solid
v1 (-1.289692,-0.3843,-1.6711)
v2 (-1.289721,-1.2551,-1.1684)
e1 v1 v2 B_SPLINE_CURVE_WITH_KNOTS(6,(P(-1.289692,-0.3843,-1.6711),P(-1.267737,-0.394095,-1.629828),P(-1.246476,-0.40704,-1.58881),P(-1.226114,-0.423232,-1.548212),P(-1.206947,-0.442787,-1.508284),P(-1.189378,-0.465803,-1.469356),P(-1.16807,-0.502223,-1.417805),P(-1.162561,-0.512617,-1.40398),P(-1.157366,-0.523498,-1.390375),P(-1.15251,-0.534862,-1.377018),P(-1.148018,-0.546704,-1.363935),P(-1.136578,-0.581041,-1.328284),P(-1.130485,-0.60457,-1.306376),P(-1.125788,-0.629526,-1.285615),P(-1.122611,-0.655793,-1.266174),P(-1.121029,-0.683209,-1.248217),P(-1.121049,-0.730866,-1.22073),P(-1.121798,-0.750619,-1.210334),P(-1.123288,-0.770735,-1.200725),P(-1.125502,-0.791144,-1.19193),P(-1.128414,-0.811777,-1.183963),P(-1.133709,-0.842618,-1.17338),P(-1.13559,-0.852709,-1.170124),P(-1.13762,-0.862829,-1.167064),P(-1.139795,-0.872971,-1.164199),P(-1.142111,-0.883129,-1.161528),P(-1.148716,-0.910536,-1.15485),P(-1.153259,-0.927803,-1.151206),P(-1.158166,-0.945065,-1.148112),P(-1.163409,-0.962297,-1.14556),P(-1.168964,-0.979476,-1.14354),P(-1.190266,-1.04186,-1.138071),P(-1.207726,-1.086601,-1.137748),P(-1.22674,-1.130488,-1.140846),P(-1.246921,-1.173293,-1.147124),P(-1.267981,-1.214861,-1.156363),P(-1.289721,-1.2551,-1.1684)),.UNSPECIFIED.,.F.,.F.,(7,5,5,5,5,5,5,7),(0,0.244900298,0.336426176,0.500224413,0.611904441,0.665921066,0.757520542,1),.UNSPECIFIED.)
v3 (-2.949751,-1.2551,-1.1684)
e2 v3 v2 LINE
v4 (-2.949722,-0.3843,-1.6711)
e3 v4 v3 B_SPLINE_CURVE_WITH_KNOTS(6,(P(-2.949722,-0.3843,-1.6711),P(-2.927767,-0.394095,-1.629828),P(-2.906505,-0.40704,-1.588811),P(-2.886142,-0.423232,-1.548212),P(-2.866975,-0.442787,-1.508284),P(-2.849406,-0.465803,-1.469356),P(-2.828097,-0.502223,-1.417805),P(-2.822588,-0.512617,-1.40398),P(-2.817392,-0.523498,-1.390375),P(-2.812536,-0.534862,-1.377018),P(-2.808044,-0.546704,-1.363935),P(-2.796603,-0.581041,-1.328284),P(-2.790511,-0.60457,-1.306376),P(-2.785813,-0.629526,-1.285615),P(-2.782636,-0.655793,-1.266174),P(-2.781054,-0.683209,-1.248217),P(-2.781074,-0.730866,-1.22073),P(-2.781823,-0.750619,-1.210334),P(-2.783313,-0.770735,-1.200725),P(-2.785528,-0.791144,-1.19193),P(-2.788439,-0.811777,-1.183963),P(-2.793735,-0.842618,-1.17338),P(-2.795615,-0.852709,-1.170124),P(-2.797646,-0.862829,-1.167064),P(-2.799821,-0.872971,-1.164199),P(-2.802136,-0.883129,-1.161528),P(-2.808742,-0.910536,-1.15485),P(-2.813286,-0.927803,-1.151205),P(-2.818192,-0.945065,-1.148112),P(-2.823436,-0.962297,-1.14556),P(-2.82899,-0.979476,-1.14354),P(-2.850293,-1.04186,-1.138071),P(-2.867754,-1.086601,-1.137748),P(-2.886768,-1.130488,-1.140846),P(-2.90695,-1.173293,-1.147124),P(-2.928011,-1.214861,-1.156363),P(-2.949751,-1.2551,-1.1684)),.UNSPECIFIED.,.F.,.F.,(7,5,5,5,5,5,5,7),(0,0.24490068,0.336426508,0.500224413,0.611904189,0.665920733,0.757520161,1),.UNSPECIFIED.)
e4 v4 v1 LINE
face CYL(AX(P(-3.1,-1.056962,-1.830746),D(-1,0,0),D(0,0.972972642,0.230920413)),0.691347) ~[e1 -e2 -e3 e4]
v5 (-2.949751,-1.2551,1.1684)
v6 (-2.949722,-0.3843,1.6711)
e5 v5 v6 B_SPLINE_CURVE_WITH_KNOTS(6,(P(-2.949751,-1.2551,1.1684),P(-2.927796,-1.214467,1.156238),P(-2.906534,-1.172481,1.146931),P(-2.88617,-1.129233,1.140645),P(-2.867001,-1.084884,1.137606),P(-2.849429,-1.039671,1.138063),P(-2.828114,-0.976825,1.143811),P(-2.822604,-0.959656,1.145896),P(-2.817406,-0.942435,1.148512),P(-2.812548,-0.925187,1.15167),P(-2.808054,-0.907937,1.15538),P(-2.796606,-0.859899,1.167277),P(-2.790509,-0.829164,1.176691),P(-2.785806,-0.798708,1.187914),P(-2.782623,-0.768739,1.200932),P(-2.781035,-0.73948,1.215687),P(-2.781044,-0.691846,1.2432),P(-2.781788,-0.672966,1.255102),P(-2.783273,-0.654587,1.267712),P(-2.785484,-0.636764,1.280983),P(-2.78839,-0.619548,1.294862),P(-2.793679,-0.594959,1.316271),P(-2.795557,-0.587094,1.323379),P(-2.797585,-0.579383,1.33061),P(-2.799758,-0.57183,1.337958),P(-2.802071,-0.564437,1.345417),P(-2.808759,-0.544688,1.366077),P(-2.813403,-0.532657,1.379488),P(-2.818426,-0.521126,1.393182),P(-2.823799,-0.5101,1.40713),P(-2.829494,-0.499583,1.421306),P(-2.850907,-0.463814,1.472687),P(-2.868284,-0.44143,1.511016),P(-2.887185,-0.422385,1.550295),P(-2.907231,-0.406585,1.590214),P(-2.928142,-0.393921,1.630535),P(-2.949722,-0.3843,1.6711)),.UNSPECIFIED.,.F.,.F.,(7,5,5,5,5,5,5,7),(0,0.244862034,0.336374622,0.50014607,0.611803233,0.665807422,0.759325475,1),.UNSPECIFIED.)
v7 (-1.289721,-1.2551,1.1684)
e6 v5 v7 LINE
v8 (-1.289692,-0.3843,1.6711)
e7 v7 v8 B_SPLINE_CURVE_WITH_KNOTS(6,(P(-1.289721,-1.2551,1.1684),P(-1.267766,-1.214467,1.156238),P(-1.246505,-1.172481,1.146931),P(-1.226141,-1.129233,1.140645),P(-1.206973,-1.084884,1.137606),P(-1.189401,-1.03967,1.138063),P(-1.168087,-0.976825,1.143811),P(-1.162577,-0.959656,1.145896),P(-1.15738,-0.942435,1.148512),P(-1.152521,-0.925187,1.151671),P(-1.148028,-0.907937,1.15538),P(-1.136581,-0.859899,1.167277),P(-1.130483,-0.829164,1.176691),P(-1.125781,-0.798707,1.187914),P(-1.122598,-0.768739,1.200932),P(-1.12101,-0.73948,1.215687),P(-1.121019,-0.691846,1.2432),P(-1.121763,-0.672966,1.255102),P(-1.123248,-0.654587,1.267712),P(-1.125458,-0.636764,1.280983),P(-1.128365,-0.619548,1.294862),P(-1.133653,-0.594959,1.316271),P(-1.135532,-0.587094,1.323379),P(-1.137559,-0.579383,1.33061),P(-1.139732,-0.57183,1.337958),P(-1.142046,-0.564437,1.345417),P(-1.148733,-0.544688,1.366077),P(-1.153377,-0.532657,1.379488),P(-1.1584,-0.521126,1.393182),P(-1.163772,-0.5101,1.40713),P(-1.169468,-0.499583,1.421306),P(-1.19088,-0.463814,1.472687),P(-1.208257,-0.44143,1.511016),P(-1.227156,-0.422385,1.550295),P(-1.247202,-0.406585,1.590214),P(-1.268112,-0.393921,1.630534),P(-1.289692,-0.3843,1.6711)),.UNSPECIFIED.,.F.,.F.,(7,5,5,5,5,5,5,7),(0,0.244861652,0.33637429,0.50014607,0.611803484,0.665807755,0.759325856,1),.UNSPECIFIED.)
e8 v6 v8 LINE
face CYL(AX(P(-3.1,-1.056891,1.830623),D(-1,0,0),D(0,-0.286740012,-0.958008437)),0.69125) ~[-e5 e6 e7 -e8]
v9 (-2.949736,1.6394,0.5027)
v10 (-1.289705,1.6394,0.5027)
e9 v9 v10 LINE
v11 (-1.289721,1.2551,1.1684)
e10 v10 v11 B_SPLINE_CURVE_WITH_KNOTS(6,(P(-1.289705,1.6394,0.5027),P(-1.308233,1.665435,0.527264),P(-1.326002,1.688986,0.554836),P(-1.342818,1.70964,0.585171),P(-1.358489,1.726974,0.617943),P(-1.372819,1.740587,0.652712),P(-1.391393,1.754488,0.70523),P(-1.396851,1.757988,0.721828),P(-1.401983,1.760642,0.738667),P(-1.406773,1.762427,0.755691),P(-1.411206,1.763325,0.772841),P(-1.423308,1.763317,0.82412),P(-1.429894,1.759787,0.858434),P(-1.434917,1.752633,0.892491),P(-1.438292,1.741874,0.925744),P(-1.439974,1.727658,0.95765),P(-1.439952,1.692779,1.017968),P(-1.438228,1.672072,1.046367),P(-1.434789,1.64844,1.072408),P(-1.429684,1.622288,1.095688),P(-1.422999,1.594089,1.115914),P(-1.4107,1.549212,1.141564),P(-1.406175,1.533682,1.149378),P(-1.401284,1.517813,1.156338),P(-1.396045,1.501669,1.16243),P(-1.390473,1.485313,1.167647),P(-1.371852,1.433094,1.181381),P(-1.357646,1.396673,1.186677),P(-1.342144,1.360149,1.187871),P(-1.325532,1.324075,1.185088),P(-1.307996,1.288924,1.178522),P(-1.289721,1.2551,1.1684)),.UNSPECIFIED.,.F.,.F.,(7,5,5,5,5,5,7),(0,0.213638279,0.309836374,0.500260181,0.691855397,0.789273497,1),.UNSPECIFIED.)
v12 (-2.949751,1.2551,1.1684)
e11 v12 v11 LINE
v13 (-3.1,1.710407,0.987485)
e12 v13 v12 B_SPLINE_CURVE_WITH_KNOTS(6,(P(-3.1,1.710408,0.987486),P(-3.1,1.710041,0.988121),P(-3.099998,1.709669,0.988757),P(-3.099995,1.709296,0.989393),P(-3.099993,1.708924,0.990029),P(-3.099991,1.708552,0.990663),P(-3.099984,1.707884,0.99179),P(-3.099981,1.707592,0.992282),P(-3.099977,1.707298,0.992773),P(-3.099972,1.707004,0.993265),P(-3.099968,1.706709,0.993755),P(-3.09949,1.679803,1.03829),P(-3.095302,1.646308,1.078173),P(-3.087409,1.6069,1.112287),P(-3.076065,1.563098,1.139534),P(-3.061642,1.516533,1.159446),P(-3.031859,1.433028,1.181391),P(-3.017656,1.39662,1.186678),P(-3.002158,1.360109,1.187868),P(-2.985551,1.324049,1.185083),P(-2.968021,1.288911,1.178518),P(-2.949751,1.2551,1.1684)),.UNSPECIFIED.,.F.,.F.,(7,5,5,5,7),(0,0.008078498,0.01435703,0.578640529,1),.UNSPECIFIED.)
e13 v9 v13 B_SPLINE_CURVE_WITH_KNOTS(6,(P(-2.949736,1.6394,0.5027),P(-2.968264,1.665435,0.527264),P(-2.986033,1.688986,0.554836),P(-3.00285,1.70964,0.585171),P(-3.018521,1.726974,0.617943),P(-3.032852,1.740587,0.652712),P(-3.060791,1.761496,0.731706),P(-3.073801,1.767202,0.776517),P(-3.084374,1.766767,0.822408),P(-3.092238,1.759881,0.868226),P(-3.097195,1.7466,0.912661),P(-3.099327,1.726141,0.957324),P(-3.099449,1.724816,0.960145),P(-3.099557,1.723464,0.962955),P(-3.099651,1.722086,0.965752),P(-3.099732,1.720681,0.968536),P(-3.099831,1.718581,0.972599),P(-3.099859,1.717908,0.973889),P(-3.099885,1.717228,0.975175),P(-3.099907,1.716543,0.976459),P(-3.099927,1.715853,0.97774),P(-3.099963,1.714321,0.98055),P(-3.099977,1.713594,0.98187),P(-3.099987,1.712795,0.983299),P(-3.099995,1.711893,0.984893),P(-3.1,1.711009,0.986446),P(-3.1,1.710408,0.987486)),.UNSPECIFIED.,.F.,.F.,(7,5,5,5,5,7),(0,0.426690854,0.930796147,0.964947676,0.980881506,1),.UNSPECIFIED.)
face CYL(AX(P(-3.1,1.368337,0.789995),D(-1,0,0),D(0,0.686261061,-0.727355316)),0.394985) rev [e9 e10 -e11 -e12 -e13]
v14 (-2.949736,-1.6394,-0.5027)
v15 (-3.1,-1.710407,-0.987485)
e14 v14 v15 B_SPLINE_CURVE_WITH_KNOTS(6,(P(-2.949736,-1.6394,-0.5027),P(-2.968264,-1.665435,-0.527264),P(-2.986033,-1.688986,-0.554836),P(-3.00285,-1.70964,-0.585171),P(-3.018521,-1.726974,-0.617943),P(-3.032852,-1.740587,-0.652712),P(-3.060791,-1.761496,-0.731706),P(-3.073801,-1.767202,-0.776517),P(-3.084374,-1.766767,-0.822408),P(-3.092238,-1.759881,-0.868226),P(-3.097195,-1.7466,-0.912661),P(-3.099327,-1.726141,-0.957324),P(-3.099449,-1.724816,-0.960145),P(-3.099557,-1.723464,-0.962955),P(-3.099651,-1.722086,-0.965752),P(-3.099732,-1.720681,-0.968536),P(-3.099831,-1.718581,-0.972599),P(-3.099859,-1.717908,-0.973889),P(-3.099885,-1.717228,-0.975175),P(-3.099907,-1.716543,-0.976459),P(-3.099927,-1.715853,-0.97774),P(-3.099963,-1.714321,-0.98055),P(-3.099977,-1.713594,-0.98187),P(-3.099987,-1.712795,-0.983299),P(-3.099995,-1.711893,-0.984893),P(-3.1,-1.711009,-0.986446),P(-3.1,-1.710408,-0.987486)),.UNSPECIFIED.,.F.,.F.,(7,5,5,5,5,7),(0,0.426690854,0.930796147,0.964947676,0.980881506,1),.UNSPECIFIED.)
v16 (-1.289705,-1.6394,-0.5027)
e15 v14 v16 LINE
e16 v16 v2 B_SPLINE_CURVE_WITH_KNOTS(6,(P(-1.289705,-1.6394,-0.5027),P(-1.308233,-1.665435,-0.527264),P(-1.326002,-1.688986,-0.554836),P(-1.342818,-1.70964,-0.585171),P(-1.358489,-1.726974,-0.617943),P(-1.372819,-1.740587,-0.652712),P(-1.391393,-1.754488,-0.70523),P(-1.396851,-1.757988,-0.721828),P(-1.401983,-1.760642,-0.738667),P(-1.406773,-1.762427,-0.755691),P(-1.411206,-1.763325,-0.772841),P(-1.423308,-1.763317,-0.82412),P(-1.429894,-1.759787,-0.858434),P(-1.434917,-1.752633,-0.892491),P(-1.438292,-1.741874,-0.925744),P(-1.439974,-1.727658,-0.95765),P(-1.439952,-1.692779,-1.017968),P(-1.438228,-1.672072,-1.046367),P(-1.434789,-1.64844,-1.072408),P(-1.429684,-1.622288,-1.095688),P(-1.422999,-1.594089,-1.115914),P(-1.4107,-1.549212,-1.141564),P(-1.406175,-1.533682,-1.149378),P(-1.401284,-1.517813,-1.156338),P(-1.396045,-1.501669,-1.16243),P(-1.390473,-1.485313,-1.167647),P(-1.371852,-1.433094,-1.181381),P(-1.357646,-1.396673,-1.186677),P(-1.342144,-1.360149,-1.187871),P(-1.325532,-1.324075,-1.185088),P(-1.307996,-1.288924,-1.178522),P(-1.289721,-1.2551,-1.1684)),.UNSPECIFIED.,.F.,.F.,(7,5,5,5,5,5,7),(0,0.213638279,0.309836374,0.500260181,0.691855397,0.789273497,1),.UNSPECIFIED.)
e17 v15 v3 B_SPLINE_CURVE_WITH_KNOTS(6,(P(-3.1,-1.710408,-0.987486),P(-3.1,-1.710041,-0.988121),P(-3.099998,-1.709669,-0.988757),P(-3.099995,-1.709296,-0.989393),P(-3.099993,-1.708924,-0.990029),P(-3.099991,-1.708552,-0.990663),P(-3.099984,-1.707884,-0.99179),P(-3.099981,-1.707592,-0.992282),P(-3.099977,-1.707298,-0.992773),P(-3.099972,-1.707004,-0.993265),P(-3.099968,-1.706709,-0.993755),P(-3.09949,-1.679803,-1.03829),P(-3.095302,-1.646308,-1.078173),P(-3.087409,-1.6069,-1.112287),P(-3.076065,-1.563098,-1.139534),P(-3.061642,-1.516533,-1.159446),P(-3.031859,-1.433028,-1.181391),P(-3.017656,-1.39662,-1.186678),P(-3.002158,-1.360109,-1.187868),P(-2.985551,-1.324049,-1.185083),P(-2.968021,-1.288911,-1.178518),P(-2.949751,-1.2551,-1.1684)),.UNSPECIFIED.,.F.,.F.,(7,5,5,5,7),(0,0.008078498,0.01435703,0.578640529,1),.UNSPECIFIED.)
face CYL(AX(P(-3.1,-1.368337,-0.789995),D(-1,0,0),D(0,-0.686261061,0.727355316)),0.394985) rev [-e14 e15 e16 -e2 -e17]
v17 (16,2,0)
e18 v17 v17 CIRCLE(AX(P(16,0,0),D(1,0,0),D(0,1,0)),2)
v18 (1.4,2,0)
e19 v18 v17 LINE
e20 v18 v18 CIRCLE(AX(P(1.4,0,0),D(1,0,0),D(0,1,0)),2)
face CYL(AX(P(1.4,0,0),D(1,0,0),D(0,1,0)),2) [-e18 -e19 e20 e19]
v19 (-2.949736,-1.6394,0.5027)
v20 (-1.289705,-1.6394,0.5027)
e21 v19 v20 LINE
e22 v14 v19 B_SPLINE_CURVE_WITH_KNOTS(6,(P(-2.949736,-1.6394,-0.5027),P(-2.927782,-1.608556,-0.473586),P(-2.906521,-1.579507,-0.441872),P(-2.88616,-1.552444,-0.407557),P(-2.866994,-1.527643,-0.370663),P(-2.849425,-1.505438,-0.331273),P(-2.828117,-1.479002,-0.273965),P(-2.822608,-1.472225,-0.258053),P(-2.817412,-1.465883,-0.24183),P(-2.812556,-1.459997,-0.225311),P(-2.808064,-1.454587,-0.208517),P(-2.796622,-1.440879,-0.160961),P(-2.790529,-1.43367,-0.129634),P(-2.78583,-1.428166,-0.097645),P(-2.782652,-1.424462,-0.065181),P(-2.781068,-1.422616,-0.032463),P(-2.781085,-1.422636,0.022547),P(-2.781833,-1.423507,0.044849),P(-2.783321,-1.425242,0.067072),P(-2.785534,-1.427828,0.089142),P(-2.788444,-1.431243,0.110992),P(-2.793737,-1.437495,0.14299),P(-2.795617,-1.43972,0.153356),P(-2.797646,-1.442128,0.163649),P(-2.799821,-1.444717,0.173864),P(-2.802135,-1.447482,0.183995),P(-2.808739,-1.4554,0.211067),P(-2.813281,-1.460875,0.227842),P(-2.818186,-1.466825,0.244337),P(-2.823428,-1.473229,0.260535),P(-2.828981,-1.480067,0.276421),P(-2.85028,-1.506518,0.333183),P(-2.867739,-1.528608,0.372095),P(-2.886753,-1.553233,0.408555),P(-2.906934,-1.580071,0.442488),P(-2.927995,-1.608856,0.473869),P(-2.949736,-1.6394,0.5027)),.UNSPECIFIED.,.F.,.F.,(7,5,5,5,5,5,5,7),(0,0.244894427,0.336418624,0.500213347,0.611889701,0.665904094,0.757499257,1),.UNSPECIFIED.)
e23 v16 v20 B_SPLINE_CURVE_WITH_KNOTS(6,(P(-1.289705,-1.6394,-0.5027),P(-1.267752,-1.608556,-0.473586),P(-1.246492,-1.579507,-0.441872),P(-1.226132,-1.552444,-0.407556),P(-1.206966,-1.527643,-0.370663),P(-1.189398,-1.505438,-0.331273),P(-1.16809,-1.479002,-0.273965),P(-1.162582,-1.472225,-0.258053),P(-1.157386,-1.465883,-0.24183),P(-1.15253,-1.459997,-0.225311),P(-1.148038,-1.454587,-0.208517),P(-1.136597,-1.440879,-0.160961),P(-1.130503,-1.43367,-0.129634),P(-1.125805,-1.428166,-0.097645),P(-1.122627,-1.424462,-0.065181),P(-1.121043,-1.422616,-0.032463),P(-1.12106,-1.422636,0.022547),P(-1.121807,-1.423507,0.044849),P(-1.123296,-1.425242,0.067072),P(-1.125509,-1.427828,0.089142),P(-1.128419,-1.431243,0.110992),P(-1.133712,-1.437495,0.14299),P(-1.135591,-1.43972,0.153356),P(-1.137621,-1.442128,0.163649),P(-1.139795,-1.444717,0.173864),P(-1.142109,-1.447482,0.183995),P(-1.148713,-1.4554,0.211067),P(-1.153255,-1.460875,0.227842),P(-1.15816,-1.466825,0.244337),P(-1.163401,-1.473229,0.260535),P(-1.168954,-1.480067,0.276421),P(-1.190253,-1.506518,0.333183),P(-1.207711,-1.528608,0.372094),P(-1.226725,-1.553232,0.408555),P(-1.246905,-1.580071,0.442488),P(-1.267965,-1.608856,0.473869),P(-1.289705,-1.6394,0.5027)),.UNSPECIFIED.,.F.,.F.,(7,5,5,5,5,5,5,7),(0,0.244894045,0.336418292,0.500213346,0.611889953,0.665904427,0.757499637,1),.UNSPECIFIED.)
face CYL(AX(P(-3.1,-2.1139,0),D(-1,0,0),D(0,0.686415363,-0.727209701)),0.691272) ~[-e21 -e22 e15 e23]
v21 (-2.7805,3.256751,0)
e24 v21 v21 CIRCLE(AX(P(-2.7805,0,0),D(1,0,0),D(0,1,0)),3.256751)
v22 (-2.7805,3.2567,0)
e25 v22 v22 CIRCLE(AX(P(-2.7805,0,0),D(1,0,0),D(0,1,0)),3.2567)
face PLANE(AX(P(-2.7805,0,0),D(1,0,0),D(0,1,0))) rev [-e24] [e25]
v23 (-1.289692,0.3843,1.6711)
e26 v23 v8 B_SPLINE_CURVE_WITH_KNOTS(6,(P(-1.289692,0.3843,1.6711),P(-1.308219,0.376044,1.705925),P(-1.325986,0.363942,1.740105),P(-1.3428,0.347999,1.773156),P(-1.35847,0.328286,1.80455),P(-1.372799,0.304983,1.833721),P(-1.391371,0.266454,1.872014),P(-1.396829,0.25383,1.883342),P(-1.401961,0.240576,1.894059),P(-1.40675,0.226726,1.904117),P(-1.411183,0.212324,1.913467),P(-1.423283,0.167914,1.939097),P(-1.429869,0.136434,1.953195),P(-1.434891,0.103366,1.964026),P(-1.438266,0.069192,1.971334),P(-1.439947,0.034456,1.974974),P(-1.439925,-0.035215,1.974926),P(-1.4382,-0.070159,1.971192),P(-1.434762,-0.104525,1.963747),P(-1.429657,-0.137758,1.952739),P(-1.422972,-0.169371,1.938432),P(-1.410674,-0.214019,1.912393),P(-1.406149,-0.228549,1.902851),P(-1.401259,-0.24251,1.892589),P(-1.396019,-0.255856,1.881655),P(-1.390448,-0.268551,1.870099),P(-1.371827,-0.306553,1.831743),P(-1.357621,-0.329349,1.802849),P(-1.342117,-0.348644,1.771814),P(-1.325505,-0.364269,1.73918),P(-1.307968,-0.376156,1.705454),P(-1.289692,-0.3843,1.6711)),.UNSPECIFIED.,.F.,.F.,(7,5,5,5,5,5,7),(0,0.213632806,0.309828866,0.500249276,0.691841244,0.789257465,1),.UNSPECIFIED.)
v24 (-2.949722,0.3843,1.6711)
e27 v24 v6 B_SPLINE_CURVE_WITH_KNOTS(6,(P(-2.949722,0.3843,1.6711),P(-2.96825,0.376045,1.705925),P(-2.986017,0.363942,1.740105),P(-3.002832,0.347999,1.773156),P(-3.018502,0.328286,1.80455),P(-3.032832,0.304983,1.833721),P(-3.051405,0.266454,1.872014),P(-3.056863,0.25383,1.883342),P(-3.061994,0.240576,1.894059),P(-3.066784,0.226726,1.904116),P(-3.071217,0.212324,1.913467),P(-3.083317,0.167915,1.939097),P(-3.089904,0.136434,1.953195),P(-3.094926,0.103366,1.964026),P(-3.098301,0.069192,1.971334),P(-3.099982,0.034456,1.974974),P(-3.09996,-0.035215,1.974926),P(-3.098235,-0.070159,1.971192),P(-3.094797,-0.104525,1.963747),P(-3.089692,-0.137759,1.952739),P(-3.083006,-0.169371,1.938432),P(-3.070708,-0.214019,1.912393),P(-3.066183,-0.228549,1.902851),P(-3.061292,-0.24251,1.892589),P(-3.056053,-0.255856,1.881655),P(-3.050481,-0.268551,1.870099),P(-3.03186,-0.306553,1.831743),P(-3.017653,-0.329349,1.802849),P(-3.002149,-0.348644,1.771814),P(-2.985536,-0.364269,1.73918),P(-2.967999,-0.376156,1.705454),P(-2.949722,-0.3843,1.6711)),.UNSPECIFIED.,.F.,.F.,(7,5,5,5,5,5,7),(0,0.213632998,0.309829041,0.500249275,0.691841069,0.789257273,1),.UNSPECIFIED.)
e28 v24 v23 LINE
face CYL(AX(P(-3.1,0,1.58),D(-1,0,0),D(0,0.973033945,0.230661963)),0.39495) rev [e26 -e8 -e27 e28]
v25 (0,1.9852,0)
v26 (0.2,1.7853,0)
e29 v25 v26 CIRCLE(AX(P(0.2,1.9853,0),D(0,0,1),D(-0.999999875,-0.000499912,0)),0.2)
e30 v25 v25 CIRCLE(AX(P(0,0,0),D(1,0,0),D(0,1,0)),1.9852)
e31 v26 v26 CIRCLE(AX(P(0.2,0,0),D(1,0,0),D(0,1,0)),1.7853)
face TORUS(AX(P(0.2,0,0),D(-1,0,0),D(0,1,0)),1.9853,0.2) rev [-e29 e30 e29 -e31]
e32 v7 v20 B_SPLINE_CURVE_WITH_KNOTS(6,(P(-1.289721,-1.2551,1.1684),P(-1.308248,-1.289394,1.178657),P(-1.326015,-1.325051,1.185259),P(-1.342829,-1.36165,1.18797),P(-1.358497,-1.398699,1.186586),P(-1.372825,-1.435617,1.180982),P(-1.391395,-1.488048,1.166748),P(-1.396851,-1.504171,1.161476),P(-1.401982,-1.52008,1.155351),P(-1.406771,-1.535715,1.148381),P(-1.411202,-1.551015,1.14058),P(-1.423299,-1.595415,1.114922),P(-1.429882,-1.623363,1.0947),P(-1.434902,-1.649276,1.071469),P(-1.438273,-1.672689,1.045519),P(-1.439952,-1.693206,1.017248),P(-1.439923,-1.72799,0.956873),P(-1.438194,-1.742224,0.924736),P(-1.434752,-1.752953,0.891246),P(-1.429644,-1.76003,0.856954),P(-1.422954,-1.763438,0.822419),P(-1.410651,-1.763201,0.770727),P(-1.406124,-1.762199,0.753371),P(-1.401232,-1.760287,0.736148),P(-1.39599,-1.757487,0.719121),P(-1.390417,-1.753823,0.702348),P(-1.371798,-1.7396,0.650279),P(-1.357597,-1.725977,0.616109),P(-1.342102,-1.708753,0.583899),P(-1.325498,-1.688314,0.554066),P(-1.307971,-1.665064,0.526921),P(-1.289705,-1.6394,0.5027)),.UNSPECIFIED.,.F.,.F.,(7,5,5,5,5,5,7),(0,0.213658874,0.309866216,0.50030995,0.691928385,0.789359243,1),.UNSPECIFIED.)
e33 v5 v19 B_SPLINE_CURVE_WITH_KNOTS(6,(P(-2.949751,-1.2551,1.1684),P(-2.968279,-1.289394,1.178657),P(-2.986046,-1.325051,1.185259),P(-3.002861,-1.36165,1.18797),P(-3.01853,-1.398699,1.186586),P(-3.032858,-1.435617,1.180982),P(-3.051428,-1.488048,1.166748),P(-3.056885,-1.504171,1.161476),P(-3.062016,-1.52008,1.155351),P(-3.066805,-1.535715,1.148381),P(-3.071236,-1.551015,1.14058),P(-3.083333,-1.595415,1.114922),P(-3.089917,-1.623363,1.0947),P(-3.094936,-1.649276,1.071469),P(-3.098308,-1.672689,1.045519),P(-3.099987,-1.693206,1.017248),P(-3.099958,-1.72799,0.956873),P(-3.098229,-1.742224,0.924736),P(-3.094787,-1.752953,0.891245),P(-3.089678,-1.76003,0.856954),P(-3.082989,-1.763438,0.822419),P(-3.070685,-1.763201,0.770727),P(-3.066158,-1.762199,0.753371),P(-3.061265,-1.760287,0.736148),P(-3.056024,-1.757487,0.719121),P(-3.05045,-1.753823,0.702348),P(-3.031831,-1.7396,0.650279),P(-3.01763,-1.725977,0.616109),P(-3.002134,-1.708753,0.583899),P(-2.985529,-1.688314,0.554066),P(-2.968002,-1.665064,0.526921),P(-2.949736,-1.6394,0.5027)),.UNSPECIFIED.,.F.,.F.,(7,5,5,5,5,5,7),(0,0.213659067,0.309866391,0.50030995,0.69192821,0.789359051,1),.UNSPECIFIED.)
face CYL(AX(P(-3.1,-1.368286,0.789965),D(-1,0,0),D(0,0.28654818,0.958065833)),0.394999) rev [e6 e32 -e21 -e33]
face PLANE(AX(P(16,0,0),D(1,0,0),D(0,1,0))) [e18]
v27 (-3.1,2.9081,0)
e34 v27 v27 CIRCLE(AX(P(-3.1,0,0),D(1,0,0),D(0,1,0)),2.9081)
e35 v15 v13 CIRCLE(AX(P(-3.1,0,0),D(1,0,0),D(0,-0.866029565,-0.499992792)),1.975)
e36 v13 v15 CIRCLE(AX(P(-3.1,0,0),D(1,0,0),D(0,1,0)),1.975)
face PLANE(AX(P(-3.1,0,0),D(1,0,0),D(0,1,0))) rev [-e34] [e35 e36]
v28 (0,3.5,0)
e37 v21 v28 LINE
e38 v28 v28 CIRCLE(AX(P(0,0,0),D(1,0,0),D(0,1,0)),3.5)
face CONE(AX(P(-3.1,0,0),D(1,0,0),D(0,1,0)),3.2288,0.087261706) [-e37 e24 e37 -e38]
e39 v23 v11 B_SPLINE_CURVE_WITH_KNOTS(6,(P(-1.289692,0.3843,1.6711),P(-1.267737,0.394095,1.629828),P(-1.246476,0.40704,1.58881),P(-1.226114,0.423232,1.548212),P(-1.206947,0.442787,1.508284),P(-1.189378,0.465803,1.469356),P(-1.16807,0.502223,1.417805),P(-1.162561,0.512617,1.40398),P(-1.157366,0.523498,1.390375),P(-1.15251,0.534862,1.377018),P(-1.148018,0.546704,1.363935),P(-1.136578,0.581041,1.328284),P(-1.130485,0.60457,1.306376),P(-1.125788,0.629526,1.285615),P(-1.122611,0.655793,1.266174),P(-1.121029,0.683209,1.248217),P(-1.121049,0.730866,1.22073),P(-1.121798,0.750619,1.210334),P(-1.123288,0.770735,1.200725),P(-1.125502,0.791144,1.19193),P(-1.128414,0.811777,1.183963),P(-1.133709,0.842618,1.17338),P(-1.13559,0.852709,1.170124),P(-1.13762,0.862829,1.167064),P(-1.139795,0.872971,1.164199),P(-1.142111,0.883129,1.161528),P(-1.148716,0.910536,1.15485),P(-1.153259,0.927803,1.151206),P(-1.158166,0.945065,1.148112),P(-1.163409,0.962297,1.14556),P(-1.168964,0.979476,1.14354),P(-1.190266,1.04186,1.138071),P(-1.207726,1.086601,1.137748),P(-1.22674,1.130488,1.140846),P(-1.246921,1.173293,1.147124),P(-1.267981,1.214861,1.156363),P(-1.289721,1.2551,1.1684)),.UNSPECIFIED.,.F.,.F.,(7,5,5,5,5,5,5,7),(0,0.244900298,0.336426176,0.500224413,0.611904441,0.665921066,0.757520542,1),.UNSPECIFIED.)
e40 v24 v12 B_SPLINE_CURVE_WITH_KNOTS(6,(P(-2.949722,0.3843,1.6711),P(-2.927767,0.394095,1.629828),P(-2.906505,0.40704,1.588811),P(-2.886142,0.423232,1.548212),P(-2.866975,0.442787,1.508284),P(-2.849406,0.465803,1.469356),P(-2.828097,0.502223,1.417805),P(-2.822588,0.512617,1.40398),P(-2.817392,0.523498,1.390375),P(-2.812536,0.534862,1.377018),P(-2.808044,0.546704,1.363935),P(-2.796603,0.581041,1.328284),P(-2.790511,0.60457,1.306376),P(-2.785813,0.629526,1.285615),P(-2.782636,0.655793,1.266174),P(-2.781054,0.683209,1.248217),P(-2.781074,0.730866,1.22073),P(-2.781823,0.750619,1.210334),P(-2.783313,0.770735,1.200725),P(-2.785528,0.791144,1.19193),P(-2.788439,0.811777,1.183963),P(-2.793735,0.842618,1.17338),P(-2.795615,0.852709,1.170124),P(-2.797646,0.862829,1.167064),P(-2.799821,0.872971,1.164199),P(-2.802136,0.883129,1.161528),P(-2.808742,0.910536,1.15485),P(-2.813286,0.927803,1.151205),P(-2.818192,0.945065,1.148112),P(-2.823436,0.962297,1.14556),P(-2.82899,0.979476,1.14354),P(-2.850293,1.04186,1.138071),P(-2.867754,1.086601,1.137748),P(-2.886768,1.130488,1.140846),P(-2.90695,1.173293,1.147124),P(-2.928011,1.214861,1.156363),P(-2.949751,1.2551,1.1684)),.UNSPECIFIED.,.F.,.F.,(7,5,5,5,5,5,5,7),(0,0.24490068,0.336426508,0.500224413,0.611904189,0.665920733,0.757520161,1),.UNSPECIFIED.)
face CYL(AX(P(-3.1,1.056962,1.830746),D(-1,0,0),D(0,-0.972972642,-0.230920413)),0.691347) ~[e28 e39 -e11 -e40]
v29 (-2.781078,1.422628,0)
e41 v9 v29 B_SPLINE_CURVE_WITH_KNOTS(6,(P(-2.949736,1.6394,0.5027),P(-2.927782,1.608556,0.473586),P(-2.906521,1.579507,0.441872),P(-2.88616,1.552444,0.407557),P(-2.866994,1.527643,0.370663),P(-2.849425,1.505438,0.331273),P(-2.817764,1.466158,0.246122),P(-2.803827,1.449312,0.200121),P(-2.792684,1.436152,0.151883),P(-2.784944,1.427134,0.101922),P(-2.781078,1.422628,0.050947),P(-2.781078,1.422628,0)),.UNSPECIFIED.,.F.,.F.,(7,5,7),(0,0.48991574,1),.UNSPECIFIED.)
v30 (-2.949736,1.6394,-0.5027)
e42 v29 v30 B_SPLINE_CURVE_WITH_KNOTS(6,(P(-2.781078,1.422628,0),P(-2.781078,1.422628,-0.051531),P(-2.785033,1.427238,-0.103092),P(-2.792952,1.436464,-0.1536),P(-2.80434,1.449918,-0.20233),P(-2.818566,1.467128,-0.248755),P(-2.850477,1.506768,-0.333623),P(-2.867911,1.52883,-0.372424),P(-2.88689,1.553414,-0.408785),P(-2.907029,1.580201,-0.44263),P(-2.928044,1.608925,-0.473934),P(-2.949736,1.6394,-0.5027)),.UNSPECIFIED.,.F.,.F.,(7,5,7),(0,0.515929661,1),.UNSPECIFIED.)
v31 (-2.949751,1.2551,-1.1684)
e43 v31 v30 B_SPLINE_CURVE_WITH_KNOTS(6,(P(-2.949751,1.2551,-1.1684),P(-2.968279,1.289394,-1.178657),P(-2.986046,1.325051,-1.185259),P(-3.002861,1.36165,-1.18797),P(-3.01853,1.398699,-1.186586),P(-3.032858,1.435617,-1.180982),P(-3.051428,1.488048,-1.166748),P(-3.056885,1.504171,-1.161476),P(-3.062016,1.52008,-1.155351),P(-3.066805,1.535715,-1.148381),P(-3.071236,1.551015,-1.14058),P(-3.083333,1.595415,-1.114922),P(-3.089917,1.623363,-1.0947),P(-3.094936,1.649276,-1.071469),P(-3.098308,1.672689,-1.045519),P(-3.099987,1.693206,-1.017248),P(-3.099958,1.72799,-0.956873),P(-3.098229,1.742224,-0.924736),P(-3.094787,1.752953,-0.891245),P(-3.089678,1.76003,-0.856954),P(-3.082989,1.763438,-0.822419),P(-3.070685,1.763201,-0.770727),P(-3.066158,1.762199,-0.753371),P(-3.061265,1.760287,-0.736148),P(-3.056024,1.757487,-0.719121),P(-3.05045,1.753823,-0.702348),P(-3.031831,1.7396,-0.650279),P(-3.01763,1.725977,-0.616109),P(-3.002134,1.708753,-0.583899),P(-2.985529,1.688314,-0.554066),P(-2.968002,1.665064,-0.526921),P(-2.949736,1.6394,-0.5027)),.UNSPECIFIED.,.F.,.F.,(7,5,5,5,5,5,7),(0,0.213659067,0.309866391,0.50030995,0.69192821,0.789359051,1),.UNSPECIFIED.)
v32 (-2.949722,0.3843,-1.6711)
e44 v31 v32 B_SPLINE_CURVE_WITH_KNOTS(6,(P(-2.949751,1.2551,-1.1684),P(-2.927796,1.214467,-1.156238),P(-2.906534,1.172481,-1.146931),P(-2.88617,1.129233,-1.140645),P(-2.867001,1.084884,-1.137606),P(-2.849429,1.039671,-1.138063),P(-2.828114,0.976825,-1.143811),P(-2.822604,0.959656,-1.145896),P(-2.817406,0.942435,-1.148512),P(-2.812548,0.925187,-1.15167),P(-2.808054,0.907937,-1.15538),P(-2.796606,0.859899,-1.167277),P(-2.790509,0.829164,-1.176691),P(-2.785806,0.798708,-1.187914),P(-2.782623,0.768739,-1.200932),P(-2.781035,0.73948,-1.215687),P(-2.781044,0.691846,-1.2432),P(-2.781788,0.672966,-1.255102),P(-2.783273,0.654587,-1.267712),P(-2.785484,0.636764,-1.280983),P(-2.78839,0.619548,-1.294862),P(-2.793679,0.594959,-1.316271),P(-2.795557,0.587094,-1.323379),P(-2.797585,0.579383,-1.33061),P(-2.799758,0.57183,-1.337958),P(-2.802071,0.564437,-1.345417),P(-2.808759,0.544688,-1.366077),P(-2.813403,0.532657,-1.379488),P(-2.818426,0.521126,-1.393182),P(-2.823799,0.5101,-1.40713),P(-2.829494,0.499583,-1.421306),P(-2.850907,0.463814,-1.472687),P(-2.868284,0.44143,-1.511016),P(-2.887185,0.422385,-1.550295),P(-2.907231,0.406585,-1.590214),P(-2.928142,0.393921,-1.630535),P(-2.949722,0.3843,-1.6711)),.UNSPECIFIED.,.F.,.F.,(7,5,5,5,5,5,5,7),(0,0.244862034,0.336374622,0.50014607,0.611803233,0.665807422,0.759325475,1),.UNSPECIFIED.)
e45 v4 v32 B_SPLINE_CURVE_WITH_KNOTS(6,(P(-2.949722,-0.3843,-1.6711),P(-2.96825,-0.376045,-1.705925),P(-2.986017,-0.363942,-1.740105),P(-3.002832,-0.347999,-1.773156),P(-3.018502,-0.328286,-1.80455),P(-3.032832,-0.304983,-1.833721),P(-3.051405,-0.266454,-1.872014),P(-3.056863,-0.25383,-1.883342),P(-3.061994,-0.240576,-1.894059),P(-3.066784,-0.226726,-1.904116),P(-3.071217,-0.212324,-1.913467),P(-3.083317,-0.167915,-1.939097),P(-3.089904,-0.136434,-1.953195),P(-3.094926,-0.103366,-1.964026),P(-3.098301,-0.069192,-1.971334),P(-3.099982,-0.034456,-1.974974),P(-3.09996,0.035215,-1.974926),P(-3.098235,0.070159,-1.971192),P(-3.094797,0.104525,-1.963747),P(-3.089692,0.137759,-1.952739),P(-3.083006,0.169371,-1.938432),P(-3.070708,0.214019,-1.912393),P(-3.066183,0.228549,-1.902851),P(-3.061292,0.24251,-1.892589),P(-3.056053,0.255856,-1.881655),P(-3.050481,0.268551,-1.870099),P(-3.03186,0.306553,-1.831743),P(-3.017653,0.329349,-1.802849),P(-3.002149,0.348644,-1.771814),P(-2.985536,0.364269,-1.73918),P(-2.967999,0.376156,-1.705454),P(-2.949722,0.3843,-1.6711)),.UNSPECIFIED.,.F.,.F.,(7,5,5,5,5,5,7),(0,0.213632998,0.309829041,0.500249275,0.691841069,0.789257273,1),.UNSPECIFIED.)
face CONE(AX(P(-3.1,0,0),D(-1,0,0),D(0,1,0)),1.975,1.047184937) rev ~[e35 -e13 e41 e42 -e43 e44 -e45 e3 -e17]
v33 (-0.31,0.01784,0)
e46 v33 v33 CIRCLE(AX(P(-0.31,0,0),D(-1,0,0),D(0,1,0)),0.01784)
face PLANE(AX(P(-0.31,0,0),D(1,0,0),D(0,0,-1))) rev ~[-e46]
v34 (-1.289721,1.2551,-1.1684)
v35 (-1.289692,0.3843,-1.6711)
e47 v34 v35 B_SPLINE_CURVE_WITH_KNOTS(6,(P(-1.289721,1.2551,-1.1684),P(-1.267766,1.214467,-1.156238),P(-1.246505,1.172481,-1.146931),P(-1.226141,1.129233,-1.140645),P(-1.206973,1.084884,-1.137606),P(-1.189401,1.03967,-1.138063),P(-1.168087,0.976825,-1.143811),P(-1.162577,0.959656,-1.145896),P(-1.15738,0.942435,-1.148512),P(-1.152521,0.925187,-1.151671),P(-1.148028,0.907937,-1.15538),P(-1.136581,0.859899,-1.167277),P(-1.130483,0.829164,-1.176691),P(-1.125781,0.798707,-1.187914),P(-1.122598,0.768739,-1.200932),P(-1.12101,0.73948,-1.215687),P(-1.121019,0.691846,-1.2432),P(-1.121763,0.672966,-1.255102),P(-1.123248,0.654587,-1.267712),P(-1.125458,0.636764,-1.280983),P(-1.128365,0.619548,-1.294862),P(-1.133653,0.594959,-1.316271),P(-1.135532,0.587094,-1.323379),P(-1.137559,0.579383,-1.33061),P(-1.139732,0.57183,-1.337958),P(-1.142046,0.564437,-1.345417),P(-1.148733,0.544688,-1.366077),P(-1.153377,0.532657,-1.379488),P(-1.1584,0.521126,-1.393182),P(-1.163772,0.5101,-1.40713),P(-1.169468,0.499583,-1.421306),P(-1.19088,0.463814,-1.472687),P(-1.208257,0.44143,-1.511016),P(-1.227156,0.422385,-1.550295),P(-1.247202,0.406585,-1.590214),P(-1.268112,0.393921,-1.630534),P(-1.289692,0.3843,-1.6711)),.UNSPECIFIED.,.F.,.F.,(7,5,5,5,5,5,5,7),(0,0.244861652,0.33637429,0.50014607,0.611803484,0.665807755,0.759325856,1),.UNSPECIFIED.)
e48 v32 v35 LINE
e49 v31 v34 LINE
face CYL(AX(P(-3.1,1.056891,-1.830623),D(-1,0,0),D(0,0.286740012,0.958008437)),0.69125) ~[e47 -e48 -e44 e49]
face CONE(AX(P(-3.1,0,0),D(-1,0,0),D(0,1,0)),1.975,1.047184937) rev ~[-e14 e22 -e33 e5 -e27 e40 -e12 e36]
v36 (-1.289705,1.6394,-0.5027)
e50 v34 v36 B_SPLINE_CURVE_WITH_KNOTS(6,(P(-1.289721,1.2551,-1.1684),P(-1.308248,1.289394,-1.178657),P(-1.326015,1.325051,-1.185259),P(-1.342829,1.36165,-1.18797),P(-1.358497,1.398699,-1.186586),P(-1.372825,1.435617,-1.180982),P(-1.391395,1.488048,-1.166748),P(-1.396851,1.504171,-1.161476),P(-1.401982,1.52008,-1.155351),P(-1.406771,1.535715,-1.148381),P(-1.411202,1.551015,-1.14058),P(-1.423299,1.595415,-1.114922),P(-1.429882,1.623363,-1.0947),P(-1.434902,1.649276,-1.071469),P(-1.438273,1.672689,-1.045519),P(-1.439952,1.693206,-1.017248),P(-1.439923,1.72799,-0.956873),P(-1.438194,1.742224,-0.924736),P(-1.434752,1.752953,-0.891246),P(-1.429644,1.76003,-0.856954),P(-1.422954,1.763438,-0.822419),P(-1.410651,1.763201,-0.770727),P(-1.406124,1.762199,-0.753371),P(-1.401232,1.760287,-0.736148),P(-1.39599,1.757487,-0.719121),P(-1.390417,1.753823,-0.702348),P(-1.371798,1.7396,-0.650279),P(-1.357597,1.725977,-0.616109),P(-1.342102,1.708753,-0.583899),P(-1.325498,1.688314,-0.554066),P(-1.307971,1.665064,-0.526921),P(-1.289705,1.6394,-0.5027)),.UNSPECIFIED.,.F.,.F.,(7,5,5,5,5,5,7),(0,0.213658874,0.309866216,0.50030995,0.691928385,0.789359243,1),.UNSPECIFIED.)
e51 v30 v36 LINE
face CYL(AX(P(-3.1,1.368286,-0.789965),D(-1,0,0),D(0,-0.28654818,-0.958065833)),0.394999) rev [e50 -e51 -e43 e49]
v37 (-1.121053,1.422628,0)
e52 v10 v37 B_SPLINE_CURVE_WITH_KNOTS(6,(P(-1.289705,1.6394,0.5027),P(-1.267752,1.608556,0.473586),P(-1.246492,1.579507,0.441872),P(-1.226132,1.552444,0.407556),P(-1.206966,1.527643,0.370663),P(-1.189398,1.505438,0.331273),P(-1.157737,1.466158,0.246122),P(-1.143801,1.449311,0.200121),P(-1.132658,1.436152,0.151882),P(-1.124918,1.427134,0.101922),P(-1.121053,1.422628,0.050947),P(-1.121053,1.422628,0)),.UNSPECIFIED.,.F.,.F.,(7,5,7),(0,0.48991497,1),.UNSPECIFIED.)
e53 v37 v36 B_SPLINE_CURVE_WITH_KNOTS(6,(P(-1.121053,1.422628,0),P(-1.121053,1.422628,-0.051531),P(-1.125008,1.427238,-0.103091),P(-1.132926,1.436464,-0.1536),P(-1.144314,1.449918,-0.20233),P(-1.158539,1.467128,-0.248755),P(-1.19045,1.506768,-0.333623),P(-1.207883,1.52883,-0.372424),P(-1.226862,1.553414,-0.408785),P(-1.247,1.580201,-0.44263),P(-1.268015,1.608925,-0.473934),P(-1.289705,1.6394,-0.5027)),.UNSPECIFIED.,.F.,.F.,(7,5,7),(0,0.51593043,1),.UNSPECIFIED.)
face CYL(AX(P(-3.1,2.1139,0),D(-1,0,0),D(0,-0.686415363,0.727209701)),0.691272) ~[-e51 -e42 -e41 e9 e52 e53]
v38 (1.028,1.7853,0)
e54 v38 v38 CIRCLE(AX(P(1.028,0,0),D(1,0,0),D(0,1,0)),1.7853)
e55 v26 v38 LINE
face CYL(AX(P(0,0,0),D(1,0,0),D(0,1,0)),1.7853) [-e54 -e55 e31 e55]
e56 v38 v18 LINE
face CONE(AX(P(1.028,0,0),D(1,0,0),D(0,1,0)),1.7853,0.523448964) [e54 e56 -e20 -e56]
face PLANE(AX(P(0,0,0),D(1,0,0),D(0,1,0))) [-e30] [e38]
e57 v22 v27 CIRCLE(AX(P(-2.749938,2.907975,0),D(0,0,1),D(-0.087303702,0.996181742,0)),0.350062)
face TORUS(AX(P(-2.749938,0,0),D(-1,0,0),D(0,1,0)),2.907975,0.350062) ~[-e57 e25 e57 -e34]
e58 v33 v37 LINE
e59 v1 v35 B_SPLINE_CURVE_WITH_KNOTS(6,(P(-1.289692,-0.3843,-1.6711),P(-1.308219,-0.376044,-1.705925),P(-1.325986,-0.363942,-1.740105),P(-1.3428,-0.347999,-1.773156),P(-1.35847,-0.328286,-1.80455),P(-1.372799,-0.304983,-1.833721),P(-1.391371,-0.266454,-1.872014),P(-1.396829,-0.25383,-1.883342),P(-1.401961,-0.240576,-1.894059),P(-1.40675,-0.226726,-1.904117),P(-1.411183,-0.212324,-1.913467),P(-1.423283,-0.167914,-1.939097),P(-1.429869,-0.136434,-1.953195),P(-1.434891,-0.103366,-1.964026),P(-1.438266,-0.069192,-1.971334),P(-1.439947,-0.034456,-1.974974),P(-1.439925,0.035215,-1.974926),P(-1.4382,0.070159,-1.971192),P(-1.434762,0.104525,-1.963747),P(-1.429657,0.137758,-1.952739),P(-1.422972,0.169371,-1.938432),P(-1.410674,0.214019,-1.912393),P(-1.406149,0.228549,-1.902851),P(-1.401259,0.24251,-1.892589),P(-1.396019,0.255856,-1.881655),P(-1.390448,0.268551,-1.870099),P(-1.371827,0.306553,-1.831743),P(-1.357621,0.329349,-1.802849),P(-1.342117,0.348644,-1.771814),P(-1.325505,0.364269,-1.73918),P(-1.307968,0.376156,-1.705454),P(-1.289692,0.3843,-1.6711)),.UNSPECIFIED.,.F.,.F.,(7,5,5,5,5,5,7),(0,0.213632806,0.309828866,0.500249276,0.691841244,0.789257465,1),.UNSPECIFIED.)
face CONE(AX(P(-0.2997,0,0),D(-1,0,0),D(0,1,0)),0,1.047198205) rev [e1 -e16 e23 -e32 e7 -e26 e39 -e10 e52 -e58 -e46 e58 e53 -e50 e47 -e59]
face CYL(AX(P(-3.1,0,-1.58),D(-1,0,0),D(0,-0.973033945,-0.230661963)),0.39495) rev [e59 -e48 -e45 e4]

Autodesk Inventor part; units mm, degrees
sketch "Skizze_2" plane through (-3.1, 0, 0) normal (1, 0, 0) x (0, 0, -1)
  arc A0 (-1.6711, 0.3843) -> (-1.6711, -0.3843) centre (-1.58, 0) ccw
  arc A1 (-1.1684, -1.2551) -> (-1.6711, -0.3843) centre (-1.8307, -1.0569) ccw
  arc A2 (-1.1684, -1.2551) -> (-0.5027, -1.6394) centre (-0.79, -1.3683) ccw
  arc A3 (0.5027, -1.6394) -> (-0.5027, -1.6394) centre (0, -2.1139) ccw
  arc A4 (0.5027, -1.6394) -> (1.1684, -1.2551) centre (0.79, -1.3683) ccw
  arc A5 (1.6711, -0.3843) -> (1.1684, -1.2551) centre (1.8307, -1.0569) ccw
  arc A6 (1.6711, -0.3843) -> (1.6711, 0.3843) centre (1.58, 0) ccw
  arc A7 (1.1684, 1.2551) -> (1.6711, 0.3843) centre (1.8307, 1.0569) ccw
  arc A8 (1.1684, 1.2551) -> (0.5027, 1.6394) centre (0.79, 1.3683) ccw
  arc A9 (-0.5027, 1.6394) -> (0.5027, 1.6394) centre (0, 2.1139) ccw
  arc A10 (-0.5027, 1.6394) -> (-1.1684, 1.2551) centre (-0.79, 1.3683) ccw
  arc A11 (-1.6711, 0.3843) -> (-1.1684, 1.2551) centre (-1.8307, 1.0569) ccw
sketch "Skizze_3" plane through (0, 0, 0) normal (0, 0, 1) x (1, 0, 0)
  line L0 (-0.1, 0) -> (-0.2997, 0)
  line L1 (-0.2997, 0) -> (-1.4977, 2.075)
  line L2 (-1.4977, 2.075) -> (-0.1, 2.075)
  line L3 (-0.1, 2.075) -> (-0.1, 0)
  line L4 (-0.1, 0) -> (-0.2997, 0)
sketch "Skizze_5" plane through (0, 0, 0) normal (0, 0, 1) x (1, 0, 0)
  line L0 (16, 0) -> (-3.1, 0)
  line L1 (-3.1, 0) -> (-3.1, 3.2288)
  line L2 (-3.1, 3.2288) -> (0, 3.5)
  line L3 (0, 3.5) -> (0, 1.7853)
  line L4 (0, 1.7853) -> (1.028, 1.7853)
  line L5 (1.028, 1.7853) -> (1.4, 2)
  line L6 (1.4, 2) -> (16, 2)
  line L7 (16, 2) -> (16, 0)
  line L8 (16, 0) -> (-3.1, 0)
revolve "Revolution1" add sketch "Skizze_5" angle 360 about axis through (16, 0, 0) along (1, 0, 0)
thread "Thread1" size "M4x0.7" class "6g" standard "ISO Metric profile" full length
sketch "Sketch_1" plane through (0, 0, 0) normal (0, 0, 1) x (1, 0, 0)
  line L0 (0.2, 0) -> (-0.1, 0)
  line L1 (-0.1, 1.6853) -> (0.2, 1.6853)
  line L2 (0.2, 1.6853) -> (0.2, 1.7853)
  arc A0 (0, 1.9852) -> (0.2, 1.7853) centre (0.2, 1.9853) ccw
  line L3 (0, 1.9852) -> (-0.1, 1.9852)
  line L4 (-0.1, 1.9852) -> (-0.1, 1.6853)
revolve "Revolution2" add sketch "Sketch_1" angle 360 about axis through (0.2, 0, 0) along (1, 0, 0)
sketch "Sketch_2" plane through (0, 0, 0) normal (0, 0, 1) x (1, 0, 0)
  line L0 (-1.9597, 0) -> (-3.1, 0)
  line L1 (-3.1, 0) -> (-3.1, 1.975)
  line L2 (-3.1, 1.975) -> (-1.9597, 0)
  line L3 (-1.9597, 0) -> (-3.1, 0)
revolve "Revolution3" cut sketch "Sketch_2" angle 360 about axis through (-1.9597, 0, 0) along (1, 0, 0)
sketch "Sketch_3" plane through (0, 0, 0) normal (0, 0, 1) x (1, 0, 0)
  line L0 (50, 0) -> (-3.1, 0)
  line L1 (-3.6, 8.4) -> (-3.6, 2.9081)
  line L2 (-3.6, 2.9081) -> (-3.1, 2.9081)
  arc A0 (-2.7805, 3.2567) -> (-3.1, 2.9081) centre (-2.75, 2.9081) ccw
  line L3 (-2.7805, 3.2567) -> (-2.7805, 8.4)
  line L4 (-2.7805, 8.4) -> (-3.6, 8.4)
revolve "Revolution4" cut sketch "Sketch_3" angle 360 about axis through (50, 0, 0) along (1, 0, 0)
extrude "Extrusion1" cut sketch "Skizze_2" along normal blind 2.79
revolve "Revolution5" add sketch "Skizze_3" angle 360 about axis through (-0.1, 0, 0) along (1, 0, 0)
ref_plane "IP1_XY" through (0, 0, 0) normal (1, 0, 0) x (0, 0, -1)
ref_plane "IP1_YZ" through (0, 0, 0) normal (0, 0, -1) x (0, 1, 0)
ref_plane "IP1_ZX" through (0, 0, 0) normal (0, 1, 0) x (1, 0, 0)
properties part number "ISO 14580 M4x16"
